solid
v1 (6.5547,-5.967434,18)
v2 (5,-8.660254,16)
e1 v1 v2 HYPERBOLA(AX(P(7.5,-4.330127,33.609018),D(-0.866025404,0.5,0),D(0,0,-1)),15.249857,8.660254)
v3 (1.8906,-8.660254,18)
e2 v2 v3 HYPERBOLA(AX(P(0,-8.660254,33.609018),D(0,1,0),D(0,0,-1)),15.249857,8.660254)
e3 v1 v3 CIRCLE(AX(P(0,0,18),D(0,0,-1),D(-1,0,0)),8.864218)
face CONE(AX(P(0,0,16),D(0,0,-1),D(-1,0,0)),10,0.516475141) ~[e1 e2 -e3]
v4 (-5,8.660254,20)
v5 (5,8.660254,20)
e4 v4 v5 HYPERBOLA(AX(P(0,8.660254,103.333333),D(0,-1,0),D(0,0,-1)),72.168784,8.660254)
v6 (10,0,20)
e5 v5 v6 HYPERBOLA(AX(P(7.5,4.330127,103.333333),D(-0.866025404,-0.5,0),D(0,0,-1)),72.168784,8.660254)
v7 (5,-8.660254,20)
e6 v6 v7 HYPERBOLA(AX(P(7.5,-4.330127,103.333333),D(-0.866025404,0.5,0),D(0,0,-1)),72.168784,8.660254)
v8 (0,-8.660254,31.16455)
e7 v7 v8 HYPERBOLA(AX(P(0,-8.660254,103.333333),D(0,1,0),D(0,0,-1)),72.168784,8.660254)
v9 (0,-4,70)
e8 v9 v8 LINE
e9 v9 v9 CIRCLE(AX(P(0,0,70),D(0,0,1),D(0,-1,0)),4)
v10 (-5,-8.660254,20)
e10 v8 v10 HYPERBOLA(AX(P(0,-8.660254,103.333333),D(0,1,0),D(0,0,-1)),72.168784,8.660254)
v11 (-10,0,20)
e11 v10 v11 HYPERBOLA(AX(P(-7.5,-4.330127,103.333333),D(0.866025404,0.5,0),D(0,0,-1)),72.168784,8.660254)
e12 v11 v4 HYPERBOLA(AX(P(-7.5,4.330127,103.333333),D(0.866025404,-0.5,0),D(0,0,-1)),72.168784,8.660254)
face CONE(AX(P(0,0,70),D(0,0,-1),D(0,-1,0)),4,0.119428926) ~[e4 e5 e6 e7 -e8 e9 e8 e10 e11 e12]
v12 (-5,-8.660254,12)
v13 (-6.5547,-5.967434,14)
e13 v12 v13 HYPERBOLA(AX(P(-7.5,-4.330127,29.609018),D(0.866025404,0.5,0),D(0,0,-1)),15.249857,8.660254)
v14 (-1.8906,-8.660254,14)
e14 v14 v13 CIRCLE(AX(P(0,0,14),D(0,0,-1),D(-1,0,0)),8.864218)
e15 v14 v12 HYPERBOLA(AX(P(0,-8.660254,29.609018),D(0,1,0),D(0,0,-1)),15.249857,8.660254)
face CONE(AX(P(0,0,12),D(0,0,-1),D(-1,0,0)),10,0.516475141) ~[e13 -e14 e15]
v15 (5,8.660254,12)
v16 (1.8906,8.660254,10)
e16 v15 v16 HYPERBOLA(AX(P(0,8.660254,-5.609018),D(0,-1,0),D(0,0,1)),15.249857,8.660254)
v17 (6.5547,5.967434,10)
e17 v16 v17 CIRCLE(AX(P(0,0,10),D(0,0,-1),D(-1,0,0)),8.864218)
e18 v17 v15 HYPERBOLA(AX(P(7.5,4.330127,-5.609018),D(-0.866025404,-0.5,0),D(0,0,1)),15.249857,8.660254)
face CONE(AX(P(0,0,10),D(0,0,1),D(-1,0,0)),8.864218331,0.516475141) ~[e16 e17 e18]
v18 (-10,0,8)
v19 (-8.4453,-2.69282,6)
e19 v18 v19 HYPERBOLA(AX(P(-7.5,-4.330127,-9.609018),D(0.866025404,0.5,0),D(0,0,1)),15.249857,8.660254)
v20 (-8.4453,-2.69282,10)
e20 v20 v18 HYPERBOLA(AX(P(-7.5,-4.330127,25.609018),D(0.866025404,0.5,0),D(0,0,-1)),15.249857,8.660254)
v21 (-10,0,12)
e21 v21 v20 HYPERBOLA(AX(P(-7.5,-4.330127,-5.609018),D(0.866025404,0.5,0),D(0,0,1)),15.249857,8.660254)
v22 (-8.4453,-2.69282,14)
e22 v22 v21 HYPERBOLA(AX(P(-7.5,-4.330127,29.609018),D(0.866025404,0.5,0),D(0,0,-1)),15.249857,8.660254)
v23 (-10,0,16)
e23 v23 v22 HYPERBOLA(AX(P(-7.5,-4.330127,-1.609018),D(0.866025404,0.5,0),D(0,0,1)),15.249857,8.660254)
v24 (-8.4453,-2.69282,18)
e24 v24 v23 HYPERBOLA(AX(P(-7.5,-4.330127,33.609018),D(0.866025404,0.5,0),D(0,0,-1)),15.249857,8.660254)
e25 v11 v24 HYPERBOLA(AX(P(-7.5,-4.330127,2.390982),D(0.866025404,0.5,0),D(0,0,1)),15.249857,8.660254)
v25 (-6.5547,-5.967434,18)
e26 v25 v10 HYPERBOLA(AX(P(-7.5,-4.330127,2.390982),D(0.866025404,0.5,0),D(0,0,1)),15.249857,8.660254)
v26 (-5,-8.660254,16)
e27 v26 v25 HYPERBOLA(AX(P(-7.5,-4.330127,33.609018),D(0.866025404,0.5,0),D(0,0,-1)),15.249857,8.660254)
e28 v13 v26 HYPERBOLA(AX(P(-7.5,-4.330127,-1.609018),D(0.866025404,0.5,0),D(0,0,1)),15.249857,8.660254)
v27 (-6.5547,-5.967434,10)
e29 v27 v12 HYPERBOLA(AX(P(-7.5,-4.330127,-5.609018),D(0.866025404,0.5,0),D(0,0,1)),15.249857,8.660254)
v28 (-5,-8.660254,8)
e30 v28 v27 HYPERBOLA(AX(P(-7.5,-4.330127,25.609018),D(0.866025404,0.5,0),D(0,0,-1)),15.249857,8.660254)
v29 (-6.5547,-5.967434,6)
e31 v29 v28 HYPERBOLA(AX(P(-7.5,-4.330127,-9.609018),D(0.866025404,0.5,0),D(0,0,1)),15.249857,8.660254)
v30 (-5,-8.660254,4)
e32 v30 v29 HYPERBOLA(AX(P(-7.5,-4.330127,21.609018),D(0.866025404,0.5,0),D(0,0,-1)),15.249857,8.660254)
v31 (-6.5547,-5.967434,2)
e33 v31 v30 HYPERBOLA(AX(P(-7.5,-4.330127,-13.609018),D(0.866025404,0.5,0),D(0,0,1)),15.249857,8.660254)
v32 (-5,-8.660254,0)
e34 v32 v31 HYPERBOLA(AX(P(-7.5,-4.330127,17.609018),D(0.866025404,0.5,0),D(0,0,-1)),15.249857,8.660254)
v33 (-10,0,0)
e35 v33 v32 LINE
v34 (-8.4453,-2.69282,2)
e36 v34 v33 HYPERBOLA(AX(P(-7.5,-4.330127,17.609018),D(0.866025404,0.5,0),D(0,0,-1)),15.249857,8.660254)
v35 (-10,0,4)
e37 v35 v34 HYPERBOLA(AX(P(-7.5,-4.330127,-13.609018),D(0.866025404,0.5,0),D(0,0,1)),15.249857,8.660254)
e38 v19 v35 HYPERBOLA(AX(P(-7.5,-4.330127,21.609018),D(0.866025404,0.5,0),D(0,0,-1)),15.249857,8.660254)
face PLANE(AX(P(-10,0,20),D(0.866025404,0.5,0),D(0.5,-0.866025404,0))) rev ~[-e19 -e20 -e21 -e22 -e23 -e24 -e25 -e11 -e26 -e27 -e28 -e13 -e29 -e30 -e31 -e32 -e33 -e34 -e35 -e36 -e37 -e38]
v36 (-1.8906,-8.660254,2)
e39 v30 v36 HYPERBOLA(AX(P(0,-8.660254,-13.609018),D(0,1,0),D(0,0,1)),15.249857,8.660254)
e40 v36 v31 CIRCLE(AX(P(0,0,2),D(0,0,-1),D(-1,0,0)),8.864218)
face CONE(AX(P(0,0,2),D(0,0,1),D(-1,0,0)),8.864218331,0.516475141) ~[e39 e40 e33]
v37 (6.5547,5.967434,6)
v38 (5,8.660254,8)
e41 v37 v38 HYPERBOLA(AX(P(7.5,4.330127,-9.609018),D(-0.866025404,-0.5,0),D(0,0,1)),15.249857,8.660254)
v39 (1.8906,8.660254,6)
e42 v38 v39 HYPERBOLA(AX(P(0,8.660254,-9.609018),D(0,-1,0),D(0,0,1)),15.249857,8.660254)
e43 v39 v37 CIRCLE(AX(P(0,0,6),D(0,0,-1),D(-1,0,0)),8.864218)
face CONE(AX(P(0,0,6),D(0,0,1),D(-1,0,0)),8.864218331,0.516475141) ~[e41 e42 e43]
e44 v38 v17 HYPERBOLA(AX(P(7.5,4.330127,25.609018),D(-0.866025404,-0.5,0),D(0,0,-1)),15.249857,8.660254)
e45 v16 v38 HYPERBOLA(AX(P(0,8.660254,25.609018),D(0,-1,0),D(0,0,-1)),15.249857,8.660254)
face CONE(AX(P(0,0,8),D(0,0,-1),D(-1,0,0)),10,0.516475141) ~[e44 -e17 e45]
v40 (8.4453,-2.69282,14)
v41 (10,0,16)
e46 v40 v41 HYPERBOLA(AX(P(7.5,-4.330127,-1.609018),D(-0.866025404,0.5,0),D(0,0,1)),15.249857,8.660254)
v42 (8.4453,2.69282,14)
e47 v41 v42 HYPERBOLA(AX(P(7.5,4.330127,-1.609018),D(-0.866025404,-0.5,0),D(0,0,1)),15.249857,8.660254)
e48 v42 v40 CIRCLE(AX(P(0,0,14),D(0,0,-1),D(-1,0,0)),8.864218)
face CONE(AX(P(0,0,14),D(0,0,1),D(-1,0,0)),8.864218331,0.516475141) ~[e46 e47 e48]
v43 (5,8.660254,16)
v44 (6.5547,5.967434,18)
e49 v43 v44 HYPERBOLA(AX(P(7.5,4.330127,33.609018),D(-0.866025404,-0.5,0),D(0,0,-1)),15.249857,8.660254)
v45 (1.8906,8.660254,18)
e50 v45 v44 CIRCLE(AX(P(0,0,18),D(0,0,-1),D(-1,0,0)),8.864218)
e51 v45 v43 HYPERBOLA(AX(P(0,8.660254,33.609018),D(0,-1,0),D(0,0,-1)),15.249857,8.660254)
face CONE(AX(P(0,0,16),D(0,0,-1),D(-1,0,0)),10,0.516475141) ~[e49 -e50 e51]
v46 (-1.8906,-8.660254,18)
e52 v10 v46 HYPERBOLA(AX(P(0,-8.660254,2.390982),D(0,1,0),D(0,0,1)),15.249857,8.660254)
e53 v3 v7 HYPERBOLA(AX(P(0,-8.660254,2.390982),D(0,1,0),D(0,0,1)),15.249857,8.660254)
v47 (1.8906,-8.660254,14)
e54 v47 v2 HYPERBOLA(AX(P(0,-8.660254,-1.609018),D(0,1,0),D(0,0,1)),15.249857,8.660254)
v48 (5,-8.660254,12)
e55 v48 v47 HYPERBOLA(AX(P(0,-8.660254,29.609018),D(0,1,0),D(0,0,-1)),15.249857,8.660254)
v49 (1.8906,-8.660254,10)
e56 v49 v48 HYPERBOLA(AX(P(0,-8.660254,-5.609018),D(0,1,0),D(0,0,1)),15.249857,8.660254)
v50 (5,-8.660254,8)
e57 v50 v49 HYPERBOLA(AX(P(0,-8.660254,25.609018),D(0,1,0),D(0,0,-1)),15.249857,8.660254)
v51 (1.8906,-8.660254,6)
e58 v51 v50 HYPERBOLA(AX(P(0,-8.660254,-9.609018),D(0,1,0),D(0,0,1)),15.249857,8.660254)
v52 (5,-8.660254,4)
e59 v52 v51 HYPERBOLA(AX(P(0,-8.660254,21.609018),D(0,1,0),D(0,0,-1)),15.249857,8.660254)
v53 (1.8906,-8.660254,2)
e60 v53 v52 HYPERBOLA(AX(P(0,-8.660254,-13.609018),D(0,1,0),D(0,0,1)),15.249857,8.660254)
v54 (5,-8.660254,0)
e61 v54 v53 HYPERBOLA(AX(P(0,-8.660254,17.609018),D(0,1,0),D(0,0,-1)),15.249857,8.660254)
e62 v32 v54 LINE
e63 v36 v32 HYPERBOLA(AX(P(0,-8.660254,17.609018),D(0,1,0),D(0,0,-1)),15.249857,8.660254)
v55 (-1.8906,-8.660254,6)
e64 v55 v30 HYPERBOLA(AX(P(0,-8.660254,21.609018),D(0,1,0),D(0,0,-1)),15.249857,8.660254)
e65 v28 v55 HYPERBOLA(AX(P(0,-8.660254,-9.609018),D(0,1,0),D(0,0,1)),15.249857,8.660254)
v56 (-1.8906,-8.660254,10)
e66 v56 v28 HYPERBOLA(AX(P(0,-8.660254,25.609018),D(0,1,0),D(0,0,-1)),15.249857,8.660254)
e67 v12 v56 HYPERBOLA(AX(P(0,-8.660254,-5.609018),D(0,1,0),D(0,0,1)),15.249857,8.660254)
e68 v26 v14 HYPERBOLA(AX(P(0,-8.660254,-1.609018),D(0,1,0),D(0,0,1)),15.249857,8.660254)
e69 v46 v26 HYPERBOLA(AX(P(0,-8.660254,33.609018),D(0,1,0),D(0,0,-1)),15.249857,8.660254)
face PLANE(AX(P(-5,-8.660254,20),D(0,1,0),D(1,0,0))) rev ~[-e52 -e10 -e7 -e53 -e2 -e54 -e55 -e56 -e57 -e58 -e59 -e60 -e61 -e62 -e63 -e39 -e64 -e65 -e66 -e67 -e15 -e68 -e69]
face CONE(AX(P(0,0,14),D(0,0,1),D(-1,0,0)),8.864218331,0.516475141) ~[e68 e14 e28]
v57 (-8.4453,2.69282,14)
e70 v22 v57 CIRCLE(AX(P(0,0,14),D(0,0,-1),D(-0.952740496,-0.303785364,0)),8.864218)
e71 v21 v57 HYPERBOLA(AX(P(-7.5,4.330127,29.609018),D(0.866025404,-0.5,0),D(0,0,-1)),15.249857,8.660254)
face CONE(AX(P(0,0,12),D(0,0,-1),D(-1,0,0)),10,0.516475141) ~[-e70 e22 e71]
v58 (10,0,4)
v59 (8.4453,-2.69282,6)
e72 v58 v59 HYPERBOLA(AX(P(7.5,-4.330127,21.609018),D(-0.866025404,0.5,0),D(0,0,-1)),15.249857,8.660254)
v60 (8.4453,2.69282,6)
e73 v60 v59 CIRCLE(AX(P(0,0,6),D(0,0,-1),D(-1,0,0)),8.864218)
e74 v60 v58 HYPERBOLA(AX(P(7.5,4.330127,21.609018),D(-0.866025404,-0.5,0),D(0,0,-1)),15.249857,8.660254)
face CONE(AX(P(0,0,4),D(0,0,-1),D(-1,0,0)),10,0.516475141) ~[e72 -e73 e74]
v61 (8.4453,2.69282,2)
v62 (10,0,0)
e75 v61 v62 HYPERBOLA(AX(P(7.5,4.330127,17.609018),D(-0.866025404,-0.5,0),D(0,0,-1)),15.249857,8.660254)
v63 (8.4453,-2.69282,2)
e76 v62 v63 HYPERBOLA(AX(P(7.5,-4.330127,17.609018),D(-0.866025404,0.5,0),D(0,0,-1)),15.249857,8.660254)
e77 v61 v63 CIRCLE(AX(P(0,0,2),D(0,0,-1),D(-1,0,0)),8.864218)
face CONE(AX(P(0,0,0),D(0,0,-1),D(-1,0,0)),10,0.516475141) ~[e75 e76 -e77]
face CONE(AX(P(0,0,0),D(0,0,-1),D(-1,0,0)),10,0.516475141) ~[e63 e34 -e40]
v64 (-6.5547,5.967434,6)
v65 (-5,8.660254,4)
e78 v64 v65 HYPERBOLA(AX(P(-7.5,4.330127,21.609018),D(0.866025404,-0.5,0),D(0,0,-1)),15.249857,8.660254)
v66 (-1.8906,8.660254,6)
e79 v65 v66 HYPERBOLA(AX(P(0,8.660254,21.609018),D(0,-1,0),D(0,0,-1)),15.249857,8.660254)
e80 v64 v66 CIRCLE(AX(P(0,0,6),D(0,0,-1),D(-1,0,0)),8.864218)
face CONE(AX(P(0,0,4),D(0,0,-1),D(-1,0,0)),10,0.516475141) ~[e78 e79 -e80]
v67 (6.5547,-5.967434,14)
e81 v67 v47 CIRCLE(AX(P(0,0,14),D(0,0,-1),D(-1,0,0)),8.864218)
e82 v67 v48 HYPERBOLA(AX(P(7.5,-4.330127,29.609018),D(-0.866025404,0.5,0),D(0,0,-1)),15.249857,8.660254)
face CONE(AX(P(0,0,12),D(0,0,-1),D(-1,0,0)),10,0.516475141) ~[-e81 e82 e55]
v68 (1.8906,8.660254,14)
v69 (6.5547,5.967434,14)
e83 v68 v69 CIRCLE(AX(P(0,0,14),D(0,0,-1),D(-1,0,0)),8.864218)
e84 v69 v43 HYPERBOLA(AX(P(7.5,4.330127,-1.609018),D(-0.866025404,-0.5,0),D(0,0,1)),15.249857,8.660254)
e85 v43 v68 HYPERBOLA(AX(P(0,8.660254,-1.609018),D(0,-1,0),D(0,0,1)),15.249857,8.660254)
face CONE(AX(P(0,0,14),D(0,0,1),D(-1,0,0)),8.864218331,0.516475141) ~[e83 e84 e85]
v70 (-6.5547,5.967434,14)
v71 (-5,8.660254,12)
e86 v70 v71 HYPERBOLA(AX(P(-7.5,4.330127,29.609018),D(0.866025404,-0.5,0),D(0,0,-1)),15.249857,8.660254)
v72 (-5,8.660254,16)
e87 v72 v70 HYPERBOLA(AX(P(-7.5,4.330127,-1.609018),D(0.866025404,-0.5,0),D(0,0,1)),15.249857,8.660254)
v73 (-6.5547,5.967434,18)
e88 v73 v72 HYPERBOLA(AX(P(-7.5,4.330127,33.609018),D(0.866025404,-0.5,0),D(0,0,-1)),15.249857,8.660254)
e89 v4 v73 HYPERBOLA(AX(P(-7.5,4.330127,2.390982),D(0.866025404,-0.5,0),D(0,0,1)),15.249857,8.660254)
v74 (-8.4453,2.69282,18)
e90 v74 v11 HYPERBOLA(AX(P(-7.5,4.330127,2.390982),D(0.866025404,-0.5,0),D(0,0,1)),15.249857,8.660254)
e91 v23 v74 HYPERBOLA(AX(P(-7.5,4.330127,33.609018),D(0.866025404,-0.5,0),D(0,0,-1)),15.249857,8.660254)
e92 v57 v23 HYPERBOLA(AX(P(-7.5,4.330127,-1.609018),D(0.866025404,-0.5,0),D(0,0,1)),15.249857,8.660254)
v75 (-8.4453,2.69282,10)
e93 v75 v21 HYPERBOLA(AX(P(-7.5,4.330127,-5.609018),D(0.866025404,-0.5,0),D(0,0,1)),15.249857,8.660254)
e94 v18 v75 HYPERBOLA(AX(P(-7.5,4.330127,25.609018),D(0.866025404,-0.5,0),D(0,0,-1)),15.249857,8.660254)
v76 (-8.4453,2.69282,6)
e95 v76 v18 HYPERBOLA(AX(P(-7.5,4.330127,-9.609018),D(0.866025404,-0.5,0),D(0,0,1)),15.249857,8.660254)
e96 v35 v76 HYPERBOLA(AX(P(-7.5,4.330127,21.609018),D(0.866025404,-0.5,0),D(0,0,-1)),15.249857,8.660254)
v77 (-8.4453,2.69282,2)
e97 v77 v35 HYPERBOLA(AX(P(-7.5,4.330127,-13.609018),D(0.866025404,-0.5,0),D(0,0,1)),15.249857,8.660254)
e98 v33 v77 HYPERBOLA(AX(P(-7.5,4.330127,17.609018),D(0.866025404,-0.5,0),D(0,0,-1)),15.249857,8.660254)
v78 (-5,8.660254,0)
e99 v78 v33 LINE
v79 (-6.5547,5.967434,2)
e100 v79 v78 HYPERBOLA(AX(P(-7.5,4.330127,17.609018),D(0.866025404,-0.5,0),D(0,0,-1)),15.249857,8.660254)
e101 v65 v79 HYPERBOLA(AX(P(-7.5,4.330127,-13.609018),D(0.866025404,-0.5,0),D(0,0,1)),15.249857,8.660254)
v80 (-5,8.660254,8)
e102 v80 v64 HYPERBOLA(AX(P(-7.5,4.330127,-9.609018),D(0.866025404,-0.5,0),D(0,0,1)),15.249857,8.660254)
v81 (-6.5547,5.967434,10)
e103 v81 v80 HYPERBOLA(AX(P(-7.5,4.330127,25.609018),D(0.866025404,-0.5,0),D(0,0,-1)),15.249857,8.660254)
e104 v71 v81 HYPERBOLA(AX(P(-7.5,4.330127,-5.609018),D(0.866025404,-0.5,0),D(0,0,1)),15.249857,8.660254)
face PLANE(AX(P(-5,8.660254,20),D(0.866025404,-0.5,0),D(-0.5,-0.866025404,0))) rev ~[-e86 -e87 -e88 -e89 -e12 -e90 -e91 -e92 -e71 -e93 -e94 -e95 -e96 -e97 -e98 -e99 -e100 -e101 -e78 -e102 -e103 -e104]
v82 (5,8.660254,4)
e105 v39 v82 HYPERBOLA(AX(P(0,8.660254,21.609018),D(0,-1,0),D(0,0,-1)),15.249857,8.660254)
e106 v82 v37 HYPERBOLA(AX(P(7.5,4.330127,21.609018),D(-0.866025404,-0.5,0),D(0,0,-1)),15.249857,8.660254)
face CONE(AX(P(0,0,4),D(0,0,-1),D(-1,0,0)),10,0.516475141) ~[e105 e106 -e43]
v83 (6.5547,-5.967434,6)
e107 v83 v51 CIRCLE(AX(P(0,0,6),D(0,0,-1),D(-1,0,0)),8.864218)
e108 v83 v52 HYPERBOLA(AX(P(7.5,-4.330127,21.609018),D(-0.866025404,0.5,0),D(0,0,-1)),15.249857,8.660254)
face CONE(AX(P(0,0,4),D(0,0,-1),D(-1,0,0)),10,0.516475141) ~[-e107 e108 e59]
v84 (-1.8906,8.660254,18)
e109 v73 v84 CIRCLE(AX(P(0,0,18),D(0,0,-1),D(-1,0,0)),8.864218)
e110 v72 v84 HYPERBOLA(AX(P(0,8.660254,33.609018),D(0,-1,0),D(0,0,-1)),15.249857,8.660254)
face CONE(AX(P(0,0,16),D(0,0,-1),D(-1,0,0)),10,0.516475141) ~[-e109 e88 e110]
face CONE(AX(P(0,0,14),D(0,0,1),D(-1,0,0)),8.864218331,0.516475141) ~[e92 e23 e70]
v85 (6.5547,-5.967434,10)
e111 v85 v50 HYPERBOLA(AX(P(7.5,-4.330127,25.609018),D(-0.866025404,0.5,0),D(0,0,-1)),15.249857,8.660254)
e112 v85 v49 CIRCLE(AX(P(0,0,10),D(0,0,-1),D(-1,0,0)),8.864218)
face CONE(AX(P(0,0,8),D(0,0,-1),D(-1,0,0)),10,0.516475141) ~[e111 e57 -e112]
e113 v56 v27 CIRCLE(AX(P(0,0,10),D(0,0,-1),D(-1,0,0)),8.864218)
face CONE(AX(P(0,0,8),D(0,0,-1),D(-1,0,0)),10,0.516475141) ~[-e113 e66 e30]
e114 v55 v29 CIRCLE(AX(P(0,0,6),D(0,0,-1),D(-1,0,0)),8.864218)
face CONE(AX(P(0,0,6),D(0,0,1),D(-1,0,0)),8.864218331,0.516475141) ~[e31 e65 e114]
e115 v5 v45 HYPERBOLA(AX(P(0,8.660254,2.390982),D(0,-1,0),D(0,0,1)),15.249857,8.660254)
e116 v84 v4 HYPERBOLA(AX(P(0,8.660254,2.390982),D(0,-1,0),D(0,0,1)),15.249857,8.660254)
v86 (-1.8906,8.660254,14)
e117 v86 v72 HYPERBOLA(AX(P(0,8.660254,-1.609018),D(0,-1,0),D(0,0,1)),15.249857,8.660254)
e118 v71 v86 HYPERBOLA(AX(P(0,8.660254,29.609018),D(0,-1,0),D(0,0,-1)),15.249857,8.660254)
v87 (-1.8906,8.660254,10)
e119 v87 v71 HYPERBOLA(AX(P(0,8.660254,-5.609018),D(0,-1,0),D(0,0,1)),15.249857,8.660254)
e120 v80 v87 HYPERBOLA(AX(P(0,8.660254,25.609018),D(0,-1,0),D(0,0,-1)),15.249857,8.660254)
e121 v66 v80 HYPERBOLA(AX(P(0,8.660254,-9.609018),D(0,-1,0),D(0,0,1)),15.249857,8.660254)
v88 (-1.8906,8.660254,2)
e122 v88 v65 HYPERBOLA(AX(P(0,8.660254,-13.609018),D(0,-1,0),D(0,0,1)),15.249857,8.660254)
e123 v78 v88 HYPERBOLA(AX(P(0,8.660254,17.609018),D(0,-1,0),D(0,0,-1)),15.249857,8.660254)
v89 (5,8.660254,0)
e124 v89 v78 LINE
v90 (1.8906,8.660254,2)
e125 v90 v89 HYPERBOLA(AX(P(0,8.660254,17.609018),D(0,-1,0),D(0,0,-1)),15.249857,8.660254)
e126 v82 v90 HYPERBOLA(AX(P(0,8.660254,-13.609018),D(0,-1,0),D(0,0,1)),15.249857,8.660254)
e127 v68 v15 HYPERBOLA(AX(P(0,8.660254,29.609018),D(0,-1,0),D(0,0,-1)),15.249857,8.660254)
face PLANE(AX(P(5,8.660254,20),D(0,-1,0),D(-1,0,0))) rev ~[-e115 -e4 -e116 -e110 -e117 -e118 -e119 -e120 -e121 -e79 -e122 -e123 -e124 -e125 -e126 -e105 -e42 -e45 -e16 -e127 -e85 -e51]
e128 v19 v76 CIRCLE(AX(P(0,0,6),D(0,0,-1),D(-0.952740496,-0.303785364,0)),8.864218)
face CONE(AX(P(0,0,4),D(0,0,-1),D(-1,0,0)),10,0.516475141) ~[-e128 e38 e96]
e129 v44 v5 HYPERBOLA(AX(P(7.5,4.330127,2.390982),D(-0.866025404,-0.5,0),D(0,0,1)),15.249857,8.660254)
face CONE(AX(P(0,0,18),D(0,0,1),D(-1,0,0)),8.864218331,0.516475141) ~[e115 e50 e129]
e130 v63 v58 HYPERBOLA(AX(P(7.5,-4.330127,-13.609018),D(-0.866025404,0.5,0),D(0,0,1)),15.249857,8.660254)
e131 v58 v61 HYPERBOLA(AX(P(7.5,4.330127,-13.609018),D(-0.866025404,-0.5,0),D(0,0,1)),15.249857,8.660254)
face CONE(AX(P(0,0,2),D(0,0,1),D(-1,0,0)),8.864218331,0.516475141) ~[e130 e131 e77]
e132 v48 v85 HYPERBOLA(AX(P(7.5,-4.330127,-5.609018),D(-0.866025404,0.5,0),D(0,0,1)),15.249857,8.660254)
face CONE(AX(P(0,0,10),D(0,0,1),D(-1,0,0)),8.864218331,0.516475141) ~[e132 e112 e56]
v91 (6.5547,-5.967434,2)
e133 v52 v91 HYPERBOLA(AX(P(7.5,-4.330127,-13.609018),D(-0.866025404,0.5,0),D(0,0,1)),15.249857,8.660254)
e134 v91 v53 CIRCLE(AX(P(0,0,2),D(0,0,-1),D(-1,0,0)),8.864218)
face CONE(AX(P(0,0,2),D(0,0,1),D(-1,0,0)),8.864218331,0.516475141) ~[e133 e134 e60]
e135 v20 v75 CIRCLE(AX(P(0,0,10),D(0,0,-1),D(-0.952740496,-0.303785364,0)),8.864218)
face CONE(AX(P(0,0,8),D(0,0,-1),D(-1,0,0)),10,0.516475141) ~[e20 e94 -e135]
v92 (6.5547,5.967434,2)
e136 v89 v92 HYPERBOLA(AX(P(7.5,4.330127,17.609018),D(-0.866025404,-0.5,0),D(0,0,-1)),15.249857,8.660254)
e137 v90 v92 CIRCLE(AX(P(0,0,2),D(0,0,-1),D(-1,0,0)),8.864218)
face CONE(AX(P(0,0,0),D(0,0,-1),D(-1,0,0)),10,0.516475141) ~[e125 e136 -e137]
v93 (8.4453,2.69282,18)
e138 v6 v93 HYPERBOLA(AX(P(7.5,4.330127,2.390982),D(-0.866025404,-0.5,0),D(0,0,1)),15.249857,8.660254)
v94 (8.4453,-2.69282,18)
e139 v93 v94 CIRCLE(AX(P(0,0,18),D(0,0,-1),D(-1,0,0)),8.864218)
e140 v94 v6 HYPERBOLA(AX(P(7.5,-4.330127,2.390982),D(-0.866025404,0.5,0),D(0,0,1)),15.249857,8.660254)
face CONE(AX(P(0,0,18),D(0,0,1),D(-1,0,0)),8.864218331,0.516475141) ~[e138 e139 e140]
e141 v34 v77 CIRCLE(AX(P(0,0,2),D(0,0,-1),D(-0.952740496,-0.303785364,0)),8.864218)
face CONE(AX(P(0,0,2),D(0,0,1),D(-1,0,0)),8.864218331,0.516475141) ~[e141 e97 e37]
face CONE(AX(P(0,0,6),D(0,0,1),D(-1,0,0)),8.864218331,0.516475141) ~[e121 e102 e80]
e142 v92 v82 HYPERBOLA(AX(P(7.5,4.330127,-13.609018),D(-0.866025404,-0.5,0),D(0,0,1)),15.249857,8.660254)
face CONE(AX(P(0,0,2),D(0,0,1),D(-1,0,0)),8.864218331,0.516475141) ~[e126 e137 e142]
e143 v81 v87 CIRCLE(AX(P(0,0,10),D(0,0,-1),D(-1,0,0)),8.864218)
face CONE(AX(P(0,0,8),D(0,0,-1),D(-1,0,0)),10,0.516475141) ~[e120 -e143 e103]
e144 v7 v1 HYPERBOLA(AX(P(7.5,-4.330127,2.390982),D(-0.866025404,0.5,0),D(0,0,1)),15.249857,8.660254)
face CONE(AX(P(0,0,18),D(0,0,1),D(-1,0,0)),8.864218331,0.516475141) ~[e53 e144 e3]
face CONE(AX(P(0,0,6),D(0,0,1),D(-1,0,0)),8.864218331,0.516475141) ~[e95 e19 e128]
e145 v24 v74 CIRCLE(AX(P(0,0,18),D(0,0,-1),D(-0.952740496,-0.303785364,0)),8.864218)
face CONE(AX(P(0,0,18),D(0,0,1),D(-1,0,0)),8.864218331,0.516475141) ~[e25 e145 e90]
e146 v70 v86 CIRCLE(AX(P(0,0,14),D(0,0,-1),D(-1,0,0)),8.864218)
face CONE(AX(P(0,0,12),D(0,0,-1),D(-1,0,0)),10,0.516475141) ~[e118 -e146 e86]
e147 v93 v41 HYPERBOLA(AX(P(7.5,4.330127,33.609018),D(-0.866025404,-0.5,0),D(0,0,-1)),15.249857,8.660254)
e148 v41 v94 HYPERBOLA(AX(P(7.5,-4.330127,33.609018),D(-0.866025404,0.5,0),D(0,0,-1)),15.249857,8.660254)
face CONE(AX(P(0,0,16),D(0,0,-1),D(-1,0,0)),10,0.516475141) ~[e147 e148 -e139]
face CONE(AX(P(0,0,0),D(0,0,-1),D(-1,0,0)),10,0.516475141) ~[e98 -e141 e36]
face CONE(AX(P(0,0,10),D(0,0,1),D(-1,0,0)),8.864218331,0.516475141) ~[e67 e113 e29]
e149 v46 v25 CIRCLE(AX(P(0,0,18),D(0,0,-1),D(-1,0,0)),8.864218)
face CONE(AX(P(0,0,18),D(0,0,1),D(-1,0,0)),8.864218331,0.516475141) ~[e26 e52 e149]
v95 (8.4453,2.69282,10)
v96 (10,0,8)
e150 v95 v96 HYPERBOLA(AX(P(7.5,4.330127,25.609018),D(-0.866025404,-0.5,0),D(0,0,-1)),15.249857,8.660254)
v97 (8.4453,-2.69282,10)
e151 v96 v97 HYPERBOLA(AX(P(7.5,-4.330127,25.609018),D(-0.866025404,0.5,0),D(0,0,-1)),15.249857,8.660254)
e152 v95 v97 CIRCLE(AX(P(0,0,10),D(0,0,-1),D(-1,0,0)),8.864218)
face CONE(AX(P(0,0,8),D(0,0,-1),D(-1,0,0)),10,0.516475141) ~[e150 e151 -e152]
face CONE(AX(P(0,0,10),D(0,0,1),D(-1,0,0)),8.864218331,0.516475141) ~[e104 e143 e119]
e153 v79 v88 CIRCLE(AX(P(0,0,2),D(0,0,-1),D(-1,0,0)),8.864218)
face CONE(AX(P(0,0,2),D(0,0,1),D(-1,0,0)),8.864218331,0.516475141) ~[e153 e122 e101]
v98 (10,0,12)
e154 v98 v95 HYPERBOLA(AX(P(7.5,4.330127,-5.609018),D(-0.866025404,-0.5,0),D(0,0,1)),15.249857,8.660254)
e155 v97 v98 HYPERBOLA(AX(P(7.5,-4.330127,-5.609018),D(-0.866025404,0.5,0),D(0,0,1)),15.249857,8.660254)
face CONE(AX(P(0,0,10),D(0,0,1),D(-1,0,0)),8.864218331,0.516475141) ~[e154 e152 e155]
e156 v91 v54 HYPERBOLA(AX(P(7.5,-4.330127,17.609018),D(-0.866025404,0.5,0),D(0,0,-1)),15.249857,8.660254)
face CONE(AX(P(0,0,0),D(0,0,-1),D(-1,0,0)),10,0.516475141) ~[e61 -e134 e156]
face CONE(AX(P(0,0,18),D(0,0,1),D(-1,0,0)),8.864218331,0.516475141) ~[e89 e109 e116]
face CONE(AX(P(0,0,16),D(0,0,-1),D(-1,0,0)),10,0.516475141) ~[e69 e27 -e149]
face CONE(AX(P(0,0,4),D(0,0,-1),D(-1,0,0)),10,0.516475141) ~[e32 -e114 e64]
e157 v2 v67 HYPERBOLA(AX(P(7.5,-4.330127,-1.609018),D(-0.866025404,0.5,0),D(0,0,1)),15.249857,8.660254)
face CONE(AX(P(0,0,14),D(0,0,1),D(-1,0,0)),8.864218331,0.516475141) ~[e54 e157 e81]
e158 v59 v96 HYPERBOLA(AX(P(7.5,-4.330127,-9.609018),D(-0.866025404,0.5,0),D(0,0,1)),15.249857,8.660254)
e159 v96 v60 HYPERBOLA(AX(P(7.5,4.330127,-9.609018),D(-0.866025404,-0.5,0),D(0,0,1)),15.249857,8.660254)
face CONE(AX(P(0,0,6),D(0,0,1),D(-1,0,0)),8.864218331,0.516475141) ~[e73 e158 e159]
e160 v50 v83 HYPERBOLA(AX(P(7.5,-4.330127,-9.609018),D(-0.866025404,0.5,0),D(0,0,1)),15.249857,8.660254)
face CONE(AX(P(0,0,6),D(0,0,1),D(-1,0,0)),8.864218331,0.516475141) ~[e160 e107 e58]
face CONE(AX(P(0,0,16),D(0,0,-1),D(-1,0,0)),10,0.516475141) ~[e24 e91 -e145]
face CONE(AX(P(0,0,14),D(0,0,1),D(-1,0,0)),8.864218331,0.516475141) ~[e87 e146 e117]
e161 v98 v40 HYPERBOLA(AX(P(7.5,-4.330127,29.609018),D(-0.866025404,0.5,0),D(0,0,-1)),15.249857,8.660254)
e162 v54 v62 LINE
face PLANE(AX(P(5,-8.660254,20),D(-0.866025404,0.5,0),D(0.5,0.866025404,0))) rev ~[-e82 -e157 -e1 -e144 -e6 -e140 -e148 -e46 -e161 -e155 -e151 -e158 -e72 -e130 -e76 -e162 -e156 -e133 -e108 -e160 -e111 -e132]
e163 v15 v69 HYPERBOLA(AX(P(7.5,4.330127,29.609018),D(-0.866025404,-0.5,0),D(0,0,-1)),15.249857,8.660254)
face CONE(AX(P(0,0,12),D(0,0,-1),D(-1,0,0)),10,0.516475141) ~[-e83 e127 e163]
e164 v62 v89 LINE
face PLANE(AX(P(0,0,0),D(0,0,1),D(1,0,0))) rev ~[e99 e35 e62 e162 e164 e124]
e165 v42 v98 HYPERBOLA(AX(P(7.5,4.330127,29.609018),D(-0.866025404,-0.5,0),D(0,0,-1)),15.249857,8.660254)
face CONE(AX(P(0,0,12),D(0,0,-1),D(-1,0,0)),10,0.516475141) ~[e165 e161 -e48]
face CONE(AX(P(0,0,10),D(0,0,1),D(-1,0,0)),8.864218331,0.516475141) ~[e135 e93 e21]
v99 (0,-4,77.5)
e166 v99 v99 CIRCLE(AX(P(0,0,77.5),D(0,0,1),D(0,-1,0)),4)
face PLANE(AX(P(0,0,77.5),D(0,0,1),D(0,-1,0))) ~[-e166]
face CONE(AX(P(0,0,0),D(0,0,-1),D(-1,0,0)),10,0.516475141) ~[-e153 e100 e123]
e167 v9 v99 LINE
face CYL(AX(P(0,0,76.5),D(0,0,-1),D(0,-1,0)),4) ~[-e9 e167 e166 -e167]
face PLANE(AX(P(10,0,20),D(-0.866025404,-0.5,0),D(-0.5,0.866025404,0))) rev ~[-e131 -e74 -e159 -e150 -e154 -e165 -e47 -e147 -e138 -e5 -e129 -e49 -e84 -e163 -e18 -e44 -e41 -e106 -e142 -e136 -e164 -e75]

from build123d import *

# Parameters (mm, degrees)
F1_DEPTH = 20
F4_DEPTH = 25
F7_DEPTH = 1


with BuildPart() as f1:
    # F0 (on Top) → F1 (new body)
    with BuildSketch(Plane.XY):
        Polygon((10, 0), (5, 8.6602540378), (-5, 8.6602540378), (-10, 0), (-5, -8.6602540378), (5, -8.6602540378), align=None)
    extrude(amount=F1_DEPTH)

    # F2 (on Right) → F3 (revolve)
    with BuildSketch(Plane.YZ):
        Polygon((-4, 76.5), (-4, 70), (-10, 20), (0, 20), (0, 70), (0, 76.5), align=None)
    revolve(axis=Axis((0, 0, 45), (0, 0, 1)))

    # F4 (cut): faces of the model
    f4_faces = [f1.faces().sort_by_distance(p)[0] for p in [
        (-7.9668740123, 4.5996768556, 20),
        (0, 9.1993537112, 20),
        (-7.9668740123, -4.5996768556, 20),
        (0, -9.1993537112, 20),
        (7.9668740123, -4.5996768556, 20),
        (7.9668740123, 4.5996768556, 20),
    ]]
    extrude(f4_faces, amount=-F4_DEPTH, mode=Mode.SUBTRACT)

    # F5 (on Front) → F6 (revolve, cut)
    with BuildSketch(Plane.XZ):
        Polygon((-8.8642183308, 18), (-10, 20), (-10, 16), align=None)
        Polygon((-8.8642183308, 2), (-10, 4), (-10, 0), align=None)
        Polygon((-8.8642183308, 6), (-10, 8), (-10, 4), align=None)
        Polygon((-8.8642183308, 10), (-10, 12), (-10, 8), align=None)
        Polygon((-8.8642183308, 14), (-10, 16), (-10, 12), align=None)
    revolve(axis=Axis((0, 0, 5.5472087115), (0, 0, -1)), mode=Mode.SUBTRACT)

    # F7 (add): a face of the model
    f7_faces = [f1.faces().sort_by_distance(p)[0] for p in [
        (0, 0, 76.5),
    ]]
    extrude(f7_faces, amount=F7_DEPTH)


solid = f1.part
